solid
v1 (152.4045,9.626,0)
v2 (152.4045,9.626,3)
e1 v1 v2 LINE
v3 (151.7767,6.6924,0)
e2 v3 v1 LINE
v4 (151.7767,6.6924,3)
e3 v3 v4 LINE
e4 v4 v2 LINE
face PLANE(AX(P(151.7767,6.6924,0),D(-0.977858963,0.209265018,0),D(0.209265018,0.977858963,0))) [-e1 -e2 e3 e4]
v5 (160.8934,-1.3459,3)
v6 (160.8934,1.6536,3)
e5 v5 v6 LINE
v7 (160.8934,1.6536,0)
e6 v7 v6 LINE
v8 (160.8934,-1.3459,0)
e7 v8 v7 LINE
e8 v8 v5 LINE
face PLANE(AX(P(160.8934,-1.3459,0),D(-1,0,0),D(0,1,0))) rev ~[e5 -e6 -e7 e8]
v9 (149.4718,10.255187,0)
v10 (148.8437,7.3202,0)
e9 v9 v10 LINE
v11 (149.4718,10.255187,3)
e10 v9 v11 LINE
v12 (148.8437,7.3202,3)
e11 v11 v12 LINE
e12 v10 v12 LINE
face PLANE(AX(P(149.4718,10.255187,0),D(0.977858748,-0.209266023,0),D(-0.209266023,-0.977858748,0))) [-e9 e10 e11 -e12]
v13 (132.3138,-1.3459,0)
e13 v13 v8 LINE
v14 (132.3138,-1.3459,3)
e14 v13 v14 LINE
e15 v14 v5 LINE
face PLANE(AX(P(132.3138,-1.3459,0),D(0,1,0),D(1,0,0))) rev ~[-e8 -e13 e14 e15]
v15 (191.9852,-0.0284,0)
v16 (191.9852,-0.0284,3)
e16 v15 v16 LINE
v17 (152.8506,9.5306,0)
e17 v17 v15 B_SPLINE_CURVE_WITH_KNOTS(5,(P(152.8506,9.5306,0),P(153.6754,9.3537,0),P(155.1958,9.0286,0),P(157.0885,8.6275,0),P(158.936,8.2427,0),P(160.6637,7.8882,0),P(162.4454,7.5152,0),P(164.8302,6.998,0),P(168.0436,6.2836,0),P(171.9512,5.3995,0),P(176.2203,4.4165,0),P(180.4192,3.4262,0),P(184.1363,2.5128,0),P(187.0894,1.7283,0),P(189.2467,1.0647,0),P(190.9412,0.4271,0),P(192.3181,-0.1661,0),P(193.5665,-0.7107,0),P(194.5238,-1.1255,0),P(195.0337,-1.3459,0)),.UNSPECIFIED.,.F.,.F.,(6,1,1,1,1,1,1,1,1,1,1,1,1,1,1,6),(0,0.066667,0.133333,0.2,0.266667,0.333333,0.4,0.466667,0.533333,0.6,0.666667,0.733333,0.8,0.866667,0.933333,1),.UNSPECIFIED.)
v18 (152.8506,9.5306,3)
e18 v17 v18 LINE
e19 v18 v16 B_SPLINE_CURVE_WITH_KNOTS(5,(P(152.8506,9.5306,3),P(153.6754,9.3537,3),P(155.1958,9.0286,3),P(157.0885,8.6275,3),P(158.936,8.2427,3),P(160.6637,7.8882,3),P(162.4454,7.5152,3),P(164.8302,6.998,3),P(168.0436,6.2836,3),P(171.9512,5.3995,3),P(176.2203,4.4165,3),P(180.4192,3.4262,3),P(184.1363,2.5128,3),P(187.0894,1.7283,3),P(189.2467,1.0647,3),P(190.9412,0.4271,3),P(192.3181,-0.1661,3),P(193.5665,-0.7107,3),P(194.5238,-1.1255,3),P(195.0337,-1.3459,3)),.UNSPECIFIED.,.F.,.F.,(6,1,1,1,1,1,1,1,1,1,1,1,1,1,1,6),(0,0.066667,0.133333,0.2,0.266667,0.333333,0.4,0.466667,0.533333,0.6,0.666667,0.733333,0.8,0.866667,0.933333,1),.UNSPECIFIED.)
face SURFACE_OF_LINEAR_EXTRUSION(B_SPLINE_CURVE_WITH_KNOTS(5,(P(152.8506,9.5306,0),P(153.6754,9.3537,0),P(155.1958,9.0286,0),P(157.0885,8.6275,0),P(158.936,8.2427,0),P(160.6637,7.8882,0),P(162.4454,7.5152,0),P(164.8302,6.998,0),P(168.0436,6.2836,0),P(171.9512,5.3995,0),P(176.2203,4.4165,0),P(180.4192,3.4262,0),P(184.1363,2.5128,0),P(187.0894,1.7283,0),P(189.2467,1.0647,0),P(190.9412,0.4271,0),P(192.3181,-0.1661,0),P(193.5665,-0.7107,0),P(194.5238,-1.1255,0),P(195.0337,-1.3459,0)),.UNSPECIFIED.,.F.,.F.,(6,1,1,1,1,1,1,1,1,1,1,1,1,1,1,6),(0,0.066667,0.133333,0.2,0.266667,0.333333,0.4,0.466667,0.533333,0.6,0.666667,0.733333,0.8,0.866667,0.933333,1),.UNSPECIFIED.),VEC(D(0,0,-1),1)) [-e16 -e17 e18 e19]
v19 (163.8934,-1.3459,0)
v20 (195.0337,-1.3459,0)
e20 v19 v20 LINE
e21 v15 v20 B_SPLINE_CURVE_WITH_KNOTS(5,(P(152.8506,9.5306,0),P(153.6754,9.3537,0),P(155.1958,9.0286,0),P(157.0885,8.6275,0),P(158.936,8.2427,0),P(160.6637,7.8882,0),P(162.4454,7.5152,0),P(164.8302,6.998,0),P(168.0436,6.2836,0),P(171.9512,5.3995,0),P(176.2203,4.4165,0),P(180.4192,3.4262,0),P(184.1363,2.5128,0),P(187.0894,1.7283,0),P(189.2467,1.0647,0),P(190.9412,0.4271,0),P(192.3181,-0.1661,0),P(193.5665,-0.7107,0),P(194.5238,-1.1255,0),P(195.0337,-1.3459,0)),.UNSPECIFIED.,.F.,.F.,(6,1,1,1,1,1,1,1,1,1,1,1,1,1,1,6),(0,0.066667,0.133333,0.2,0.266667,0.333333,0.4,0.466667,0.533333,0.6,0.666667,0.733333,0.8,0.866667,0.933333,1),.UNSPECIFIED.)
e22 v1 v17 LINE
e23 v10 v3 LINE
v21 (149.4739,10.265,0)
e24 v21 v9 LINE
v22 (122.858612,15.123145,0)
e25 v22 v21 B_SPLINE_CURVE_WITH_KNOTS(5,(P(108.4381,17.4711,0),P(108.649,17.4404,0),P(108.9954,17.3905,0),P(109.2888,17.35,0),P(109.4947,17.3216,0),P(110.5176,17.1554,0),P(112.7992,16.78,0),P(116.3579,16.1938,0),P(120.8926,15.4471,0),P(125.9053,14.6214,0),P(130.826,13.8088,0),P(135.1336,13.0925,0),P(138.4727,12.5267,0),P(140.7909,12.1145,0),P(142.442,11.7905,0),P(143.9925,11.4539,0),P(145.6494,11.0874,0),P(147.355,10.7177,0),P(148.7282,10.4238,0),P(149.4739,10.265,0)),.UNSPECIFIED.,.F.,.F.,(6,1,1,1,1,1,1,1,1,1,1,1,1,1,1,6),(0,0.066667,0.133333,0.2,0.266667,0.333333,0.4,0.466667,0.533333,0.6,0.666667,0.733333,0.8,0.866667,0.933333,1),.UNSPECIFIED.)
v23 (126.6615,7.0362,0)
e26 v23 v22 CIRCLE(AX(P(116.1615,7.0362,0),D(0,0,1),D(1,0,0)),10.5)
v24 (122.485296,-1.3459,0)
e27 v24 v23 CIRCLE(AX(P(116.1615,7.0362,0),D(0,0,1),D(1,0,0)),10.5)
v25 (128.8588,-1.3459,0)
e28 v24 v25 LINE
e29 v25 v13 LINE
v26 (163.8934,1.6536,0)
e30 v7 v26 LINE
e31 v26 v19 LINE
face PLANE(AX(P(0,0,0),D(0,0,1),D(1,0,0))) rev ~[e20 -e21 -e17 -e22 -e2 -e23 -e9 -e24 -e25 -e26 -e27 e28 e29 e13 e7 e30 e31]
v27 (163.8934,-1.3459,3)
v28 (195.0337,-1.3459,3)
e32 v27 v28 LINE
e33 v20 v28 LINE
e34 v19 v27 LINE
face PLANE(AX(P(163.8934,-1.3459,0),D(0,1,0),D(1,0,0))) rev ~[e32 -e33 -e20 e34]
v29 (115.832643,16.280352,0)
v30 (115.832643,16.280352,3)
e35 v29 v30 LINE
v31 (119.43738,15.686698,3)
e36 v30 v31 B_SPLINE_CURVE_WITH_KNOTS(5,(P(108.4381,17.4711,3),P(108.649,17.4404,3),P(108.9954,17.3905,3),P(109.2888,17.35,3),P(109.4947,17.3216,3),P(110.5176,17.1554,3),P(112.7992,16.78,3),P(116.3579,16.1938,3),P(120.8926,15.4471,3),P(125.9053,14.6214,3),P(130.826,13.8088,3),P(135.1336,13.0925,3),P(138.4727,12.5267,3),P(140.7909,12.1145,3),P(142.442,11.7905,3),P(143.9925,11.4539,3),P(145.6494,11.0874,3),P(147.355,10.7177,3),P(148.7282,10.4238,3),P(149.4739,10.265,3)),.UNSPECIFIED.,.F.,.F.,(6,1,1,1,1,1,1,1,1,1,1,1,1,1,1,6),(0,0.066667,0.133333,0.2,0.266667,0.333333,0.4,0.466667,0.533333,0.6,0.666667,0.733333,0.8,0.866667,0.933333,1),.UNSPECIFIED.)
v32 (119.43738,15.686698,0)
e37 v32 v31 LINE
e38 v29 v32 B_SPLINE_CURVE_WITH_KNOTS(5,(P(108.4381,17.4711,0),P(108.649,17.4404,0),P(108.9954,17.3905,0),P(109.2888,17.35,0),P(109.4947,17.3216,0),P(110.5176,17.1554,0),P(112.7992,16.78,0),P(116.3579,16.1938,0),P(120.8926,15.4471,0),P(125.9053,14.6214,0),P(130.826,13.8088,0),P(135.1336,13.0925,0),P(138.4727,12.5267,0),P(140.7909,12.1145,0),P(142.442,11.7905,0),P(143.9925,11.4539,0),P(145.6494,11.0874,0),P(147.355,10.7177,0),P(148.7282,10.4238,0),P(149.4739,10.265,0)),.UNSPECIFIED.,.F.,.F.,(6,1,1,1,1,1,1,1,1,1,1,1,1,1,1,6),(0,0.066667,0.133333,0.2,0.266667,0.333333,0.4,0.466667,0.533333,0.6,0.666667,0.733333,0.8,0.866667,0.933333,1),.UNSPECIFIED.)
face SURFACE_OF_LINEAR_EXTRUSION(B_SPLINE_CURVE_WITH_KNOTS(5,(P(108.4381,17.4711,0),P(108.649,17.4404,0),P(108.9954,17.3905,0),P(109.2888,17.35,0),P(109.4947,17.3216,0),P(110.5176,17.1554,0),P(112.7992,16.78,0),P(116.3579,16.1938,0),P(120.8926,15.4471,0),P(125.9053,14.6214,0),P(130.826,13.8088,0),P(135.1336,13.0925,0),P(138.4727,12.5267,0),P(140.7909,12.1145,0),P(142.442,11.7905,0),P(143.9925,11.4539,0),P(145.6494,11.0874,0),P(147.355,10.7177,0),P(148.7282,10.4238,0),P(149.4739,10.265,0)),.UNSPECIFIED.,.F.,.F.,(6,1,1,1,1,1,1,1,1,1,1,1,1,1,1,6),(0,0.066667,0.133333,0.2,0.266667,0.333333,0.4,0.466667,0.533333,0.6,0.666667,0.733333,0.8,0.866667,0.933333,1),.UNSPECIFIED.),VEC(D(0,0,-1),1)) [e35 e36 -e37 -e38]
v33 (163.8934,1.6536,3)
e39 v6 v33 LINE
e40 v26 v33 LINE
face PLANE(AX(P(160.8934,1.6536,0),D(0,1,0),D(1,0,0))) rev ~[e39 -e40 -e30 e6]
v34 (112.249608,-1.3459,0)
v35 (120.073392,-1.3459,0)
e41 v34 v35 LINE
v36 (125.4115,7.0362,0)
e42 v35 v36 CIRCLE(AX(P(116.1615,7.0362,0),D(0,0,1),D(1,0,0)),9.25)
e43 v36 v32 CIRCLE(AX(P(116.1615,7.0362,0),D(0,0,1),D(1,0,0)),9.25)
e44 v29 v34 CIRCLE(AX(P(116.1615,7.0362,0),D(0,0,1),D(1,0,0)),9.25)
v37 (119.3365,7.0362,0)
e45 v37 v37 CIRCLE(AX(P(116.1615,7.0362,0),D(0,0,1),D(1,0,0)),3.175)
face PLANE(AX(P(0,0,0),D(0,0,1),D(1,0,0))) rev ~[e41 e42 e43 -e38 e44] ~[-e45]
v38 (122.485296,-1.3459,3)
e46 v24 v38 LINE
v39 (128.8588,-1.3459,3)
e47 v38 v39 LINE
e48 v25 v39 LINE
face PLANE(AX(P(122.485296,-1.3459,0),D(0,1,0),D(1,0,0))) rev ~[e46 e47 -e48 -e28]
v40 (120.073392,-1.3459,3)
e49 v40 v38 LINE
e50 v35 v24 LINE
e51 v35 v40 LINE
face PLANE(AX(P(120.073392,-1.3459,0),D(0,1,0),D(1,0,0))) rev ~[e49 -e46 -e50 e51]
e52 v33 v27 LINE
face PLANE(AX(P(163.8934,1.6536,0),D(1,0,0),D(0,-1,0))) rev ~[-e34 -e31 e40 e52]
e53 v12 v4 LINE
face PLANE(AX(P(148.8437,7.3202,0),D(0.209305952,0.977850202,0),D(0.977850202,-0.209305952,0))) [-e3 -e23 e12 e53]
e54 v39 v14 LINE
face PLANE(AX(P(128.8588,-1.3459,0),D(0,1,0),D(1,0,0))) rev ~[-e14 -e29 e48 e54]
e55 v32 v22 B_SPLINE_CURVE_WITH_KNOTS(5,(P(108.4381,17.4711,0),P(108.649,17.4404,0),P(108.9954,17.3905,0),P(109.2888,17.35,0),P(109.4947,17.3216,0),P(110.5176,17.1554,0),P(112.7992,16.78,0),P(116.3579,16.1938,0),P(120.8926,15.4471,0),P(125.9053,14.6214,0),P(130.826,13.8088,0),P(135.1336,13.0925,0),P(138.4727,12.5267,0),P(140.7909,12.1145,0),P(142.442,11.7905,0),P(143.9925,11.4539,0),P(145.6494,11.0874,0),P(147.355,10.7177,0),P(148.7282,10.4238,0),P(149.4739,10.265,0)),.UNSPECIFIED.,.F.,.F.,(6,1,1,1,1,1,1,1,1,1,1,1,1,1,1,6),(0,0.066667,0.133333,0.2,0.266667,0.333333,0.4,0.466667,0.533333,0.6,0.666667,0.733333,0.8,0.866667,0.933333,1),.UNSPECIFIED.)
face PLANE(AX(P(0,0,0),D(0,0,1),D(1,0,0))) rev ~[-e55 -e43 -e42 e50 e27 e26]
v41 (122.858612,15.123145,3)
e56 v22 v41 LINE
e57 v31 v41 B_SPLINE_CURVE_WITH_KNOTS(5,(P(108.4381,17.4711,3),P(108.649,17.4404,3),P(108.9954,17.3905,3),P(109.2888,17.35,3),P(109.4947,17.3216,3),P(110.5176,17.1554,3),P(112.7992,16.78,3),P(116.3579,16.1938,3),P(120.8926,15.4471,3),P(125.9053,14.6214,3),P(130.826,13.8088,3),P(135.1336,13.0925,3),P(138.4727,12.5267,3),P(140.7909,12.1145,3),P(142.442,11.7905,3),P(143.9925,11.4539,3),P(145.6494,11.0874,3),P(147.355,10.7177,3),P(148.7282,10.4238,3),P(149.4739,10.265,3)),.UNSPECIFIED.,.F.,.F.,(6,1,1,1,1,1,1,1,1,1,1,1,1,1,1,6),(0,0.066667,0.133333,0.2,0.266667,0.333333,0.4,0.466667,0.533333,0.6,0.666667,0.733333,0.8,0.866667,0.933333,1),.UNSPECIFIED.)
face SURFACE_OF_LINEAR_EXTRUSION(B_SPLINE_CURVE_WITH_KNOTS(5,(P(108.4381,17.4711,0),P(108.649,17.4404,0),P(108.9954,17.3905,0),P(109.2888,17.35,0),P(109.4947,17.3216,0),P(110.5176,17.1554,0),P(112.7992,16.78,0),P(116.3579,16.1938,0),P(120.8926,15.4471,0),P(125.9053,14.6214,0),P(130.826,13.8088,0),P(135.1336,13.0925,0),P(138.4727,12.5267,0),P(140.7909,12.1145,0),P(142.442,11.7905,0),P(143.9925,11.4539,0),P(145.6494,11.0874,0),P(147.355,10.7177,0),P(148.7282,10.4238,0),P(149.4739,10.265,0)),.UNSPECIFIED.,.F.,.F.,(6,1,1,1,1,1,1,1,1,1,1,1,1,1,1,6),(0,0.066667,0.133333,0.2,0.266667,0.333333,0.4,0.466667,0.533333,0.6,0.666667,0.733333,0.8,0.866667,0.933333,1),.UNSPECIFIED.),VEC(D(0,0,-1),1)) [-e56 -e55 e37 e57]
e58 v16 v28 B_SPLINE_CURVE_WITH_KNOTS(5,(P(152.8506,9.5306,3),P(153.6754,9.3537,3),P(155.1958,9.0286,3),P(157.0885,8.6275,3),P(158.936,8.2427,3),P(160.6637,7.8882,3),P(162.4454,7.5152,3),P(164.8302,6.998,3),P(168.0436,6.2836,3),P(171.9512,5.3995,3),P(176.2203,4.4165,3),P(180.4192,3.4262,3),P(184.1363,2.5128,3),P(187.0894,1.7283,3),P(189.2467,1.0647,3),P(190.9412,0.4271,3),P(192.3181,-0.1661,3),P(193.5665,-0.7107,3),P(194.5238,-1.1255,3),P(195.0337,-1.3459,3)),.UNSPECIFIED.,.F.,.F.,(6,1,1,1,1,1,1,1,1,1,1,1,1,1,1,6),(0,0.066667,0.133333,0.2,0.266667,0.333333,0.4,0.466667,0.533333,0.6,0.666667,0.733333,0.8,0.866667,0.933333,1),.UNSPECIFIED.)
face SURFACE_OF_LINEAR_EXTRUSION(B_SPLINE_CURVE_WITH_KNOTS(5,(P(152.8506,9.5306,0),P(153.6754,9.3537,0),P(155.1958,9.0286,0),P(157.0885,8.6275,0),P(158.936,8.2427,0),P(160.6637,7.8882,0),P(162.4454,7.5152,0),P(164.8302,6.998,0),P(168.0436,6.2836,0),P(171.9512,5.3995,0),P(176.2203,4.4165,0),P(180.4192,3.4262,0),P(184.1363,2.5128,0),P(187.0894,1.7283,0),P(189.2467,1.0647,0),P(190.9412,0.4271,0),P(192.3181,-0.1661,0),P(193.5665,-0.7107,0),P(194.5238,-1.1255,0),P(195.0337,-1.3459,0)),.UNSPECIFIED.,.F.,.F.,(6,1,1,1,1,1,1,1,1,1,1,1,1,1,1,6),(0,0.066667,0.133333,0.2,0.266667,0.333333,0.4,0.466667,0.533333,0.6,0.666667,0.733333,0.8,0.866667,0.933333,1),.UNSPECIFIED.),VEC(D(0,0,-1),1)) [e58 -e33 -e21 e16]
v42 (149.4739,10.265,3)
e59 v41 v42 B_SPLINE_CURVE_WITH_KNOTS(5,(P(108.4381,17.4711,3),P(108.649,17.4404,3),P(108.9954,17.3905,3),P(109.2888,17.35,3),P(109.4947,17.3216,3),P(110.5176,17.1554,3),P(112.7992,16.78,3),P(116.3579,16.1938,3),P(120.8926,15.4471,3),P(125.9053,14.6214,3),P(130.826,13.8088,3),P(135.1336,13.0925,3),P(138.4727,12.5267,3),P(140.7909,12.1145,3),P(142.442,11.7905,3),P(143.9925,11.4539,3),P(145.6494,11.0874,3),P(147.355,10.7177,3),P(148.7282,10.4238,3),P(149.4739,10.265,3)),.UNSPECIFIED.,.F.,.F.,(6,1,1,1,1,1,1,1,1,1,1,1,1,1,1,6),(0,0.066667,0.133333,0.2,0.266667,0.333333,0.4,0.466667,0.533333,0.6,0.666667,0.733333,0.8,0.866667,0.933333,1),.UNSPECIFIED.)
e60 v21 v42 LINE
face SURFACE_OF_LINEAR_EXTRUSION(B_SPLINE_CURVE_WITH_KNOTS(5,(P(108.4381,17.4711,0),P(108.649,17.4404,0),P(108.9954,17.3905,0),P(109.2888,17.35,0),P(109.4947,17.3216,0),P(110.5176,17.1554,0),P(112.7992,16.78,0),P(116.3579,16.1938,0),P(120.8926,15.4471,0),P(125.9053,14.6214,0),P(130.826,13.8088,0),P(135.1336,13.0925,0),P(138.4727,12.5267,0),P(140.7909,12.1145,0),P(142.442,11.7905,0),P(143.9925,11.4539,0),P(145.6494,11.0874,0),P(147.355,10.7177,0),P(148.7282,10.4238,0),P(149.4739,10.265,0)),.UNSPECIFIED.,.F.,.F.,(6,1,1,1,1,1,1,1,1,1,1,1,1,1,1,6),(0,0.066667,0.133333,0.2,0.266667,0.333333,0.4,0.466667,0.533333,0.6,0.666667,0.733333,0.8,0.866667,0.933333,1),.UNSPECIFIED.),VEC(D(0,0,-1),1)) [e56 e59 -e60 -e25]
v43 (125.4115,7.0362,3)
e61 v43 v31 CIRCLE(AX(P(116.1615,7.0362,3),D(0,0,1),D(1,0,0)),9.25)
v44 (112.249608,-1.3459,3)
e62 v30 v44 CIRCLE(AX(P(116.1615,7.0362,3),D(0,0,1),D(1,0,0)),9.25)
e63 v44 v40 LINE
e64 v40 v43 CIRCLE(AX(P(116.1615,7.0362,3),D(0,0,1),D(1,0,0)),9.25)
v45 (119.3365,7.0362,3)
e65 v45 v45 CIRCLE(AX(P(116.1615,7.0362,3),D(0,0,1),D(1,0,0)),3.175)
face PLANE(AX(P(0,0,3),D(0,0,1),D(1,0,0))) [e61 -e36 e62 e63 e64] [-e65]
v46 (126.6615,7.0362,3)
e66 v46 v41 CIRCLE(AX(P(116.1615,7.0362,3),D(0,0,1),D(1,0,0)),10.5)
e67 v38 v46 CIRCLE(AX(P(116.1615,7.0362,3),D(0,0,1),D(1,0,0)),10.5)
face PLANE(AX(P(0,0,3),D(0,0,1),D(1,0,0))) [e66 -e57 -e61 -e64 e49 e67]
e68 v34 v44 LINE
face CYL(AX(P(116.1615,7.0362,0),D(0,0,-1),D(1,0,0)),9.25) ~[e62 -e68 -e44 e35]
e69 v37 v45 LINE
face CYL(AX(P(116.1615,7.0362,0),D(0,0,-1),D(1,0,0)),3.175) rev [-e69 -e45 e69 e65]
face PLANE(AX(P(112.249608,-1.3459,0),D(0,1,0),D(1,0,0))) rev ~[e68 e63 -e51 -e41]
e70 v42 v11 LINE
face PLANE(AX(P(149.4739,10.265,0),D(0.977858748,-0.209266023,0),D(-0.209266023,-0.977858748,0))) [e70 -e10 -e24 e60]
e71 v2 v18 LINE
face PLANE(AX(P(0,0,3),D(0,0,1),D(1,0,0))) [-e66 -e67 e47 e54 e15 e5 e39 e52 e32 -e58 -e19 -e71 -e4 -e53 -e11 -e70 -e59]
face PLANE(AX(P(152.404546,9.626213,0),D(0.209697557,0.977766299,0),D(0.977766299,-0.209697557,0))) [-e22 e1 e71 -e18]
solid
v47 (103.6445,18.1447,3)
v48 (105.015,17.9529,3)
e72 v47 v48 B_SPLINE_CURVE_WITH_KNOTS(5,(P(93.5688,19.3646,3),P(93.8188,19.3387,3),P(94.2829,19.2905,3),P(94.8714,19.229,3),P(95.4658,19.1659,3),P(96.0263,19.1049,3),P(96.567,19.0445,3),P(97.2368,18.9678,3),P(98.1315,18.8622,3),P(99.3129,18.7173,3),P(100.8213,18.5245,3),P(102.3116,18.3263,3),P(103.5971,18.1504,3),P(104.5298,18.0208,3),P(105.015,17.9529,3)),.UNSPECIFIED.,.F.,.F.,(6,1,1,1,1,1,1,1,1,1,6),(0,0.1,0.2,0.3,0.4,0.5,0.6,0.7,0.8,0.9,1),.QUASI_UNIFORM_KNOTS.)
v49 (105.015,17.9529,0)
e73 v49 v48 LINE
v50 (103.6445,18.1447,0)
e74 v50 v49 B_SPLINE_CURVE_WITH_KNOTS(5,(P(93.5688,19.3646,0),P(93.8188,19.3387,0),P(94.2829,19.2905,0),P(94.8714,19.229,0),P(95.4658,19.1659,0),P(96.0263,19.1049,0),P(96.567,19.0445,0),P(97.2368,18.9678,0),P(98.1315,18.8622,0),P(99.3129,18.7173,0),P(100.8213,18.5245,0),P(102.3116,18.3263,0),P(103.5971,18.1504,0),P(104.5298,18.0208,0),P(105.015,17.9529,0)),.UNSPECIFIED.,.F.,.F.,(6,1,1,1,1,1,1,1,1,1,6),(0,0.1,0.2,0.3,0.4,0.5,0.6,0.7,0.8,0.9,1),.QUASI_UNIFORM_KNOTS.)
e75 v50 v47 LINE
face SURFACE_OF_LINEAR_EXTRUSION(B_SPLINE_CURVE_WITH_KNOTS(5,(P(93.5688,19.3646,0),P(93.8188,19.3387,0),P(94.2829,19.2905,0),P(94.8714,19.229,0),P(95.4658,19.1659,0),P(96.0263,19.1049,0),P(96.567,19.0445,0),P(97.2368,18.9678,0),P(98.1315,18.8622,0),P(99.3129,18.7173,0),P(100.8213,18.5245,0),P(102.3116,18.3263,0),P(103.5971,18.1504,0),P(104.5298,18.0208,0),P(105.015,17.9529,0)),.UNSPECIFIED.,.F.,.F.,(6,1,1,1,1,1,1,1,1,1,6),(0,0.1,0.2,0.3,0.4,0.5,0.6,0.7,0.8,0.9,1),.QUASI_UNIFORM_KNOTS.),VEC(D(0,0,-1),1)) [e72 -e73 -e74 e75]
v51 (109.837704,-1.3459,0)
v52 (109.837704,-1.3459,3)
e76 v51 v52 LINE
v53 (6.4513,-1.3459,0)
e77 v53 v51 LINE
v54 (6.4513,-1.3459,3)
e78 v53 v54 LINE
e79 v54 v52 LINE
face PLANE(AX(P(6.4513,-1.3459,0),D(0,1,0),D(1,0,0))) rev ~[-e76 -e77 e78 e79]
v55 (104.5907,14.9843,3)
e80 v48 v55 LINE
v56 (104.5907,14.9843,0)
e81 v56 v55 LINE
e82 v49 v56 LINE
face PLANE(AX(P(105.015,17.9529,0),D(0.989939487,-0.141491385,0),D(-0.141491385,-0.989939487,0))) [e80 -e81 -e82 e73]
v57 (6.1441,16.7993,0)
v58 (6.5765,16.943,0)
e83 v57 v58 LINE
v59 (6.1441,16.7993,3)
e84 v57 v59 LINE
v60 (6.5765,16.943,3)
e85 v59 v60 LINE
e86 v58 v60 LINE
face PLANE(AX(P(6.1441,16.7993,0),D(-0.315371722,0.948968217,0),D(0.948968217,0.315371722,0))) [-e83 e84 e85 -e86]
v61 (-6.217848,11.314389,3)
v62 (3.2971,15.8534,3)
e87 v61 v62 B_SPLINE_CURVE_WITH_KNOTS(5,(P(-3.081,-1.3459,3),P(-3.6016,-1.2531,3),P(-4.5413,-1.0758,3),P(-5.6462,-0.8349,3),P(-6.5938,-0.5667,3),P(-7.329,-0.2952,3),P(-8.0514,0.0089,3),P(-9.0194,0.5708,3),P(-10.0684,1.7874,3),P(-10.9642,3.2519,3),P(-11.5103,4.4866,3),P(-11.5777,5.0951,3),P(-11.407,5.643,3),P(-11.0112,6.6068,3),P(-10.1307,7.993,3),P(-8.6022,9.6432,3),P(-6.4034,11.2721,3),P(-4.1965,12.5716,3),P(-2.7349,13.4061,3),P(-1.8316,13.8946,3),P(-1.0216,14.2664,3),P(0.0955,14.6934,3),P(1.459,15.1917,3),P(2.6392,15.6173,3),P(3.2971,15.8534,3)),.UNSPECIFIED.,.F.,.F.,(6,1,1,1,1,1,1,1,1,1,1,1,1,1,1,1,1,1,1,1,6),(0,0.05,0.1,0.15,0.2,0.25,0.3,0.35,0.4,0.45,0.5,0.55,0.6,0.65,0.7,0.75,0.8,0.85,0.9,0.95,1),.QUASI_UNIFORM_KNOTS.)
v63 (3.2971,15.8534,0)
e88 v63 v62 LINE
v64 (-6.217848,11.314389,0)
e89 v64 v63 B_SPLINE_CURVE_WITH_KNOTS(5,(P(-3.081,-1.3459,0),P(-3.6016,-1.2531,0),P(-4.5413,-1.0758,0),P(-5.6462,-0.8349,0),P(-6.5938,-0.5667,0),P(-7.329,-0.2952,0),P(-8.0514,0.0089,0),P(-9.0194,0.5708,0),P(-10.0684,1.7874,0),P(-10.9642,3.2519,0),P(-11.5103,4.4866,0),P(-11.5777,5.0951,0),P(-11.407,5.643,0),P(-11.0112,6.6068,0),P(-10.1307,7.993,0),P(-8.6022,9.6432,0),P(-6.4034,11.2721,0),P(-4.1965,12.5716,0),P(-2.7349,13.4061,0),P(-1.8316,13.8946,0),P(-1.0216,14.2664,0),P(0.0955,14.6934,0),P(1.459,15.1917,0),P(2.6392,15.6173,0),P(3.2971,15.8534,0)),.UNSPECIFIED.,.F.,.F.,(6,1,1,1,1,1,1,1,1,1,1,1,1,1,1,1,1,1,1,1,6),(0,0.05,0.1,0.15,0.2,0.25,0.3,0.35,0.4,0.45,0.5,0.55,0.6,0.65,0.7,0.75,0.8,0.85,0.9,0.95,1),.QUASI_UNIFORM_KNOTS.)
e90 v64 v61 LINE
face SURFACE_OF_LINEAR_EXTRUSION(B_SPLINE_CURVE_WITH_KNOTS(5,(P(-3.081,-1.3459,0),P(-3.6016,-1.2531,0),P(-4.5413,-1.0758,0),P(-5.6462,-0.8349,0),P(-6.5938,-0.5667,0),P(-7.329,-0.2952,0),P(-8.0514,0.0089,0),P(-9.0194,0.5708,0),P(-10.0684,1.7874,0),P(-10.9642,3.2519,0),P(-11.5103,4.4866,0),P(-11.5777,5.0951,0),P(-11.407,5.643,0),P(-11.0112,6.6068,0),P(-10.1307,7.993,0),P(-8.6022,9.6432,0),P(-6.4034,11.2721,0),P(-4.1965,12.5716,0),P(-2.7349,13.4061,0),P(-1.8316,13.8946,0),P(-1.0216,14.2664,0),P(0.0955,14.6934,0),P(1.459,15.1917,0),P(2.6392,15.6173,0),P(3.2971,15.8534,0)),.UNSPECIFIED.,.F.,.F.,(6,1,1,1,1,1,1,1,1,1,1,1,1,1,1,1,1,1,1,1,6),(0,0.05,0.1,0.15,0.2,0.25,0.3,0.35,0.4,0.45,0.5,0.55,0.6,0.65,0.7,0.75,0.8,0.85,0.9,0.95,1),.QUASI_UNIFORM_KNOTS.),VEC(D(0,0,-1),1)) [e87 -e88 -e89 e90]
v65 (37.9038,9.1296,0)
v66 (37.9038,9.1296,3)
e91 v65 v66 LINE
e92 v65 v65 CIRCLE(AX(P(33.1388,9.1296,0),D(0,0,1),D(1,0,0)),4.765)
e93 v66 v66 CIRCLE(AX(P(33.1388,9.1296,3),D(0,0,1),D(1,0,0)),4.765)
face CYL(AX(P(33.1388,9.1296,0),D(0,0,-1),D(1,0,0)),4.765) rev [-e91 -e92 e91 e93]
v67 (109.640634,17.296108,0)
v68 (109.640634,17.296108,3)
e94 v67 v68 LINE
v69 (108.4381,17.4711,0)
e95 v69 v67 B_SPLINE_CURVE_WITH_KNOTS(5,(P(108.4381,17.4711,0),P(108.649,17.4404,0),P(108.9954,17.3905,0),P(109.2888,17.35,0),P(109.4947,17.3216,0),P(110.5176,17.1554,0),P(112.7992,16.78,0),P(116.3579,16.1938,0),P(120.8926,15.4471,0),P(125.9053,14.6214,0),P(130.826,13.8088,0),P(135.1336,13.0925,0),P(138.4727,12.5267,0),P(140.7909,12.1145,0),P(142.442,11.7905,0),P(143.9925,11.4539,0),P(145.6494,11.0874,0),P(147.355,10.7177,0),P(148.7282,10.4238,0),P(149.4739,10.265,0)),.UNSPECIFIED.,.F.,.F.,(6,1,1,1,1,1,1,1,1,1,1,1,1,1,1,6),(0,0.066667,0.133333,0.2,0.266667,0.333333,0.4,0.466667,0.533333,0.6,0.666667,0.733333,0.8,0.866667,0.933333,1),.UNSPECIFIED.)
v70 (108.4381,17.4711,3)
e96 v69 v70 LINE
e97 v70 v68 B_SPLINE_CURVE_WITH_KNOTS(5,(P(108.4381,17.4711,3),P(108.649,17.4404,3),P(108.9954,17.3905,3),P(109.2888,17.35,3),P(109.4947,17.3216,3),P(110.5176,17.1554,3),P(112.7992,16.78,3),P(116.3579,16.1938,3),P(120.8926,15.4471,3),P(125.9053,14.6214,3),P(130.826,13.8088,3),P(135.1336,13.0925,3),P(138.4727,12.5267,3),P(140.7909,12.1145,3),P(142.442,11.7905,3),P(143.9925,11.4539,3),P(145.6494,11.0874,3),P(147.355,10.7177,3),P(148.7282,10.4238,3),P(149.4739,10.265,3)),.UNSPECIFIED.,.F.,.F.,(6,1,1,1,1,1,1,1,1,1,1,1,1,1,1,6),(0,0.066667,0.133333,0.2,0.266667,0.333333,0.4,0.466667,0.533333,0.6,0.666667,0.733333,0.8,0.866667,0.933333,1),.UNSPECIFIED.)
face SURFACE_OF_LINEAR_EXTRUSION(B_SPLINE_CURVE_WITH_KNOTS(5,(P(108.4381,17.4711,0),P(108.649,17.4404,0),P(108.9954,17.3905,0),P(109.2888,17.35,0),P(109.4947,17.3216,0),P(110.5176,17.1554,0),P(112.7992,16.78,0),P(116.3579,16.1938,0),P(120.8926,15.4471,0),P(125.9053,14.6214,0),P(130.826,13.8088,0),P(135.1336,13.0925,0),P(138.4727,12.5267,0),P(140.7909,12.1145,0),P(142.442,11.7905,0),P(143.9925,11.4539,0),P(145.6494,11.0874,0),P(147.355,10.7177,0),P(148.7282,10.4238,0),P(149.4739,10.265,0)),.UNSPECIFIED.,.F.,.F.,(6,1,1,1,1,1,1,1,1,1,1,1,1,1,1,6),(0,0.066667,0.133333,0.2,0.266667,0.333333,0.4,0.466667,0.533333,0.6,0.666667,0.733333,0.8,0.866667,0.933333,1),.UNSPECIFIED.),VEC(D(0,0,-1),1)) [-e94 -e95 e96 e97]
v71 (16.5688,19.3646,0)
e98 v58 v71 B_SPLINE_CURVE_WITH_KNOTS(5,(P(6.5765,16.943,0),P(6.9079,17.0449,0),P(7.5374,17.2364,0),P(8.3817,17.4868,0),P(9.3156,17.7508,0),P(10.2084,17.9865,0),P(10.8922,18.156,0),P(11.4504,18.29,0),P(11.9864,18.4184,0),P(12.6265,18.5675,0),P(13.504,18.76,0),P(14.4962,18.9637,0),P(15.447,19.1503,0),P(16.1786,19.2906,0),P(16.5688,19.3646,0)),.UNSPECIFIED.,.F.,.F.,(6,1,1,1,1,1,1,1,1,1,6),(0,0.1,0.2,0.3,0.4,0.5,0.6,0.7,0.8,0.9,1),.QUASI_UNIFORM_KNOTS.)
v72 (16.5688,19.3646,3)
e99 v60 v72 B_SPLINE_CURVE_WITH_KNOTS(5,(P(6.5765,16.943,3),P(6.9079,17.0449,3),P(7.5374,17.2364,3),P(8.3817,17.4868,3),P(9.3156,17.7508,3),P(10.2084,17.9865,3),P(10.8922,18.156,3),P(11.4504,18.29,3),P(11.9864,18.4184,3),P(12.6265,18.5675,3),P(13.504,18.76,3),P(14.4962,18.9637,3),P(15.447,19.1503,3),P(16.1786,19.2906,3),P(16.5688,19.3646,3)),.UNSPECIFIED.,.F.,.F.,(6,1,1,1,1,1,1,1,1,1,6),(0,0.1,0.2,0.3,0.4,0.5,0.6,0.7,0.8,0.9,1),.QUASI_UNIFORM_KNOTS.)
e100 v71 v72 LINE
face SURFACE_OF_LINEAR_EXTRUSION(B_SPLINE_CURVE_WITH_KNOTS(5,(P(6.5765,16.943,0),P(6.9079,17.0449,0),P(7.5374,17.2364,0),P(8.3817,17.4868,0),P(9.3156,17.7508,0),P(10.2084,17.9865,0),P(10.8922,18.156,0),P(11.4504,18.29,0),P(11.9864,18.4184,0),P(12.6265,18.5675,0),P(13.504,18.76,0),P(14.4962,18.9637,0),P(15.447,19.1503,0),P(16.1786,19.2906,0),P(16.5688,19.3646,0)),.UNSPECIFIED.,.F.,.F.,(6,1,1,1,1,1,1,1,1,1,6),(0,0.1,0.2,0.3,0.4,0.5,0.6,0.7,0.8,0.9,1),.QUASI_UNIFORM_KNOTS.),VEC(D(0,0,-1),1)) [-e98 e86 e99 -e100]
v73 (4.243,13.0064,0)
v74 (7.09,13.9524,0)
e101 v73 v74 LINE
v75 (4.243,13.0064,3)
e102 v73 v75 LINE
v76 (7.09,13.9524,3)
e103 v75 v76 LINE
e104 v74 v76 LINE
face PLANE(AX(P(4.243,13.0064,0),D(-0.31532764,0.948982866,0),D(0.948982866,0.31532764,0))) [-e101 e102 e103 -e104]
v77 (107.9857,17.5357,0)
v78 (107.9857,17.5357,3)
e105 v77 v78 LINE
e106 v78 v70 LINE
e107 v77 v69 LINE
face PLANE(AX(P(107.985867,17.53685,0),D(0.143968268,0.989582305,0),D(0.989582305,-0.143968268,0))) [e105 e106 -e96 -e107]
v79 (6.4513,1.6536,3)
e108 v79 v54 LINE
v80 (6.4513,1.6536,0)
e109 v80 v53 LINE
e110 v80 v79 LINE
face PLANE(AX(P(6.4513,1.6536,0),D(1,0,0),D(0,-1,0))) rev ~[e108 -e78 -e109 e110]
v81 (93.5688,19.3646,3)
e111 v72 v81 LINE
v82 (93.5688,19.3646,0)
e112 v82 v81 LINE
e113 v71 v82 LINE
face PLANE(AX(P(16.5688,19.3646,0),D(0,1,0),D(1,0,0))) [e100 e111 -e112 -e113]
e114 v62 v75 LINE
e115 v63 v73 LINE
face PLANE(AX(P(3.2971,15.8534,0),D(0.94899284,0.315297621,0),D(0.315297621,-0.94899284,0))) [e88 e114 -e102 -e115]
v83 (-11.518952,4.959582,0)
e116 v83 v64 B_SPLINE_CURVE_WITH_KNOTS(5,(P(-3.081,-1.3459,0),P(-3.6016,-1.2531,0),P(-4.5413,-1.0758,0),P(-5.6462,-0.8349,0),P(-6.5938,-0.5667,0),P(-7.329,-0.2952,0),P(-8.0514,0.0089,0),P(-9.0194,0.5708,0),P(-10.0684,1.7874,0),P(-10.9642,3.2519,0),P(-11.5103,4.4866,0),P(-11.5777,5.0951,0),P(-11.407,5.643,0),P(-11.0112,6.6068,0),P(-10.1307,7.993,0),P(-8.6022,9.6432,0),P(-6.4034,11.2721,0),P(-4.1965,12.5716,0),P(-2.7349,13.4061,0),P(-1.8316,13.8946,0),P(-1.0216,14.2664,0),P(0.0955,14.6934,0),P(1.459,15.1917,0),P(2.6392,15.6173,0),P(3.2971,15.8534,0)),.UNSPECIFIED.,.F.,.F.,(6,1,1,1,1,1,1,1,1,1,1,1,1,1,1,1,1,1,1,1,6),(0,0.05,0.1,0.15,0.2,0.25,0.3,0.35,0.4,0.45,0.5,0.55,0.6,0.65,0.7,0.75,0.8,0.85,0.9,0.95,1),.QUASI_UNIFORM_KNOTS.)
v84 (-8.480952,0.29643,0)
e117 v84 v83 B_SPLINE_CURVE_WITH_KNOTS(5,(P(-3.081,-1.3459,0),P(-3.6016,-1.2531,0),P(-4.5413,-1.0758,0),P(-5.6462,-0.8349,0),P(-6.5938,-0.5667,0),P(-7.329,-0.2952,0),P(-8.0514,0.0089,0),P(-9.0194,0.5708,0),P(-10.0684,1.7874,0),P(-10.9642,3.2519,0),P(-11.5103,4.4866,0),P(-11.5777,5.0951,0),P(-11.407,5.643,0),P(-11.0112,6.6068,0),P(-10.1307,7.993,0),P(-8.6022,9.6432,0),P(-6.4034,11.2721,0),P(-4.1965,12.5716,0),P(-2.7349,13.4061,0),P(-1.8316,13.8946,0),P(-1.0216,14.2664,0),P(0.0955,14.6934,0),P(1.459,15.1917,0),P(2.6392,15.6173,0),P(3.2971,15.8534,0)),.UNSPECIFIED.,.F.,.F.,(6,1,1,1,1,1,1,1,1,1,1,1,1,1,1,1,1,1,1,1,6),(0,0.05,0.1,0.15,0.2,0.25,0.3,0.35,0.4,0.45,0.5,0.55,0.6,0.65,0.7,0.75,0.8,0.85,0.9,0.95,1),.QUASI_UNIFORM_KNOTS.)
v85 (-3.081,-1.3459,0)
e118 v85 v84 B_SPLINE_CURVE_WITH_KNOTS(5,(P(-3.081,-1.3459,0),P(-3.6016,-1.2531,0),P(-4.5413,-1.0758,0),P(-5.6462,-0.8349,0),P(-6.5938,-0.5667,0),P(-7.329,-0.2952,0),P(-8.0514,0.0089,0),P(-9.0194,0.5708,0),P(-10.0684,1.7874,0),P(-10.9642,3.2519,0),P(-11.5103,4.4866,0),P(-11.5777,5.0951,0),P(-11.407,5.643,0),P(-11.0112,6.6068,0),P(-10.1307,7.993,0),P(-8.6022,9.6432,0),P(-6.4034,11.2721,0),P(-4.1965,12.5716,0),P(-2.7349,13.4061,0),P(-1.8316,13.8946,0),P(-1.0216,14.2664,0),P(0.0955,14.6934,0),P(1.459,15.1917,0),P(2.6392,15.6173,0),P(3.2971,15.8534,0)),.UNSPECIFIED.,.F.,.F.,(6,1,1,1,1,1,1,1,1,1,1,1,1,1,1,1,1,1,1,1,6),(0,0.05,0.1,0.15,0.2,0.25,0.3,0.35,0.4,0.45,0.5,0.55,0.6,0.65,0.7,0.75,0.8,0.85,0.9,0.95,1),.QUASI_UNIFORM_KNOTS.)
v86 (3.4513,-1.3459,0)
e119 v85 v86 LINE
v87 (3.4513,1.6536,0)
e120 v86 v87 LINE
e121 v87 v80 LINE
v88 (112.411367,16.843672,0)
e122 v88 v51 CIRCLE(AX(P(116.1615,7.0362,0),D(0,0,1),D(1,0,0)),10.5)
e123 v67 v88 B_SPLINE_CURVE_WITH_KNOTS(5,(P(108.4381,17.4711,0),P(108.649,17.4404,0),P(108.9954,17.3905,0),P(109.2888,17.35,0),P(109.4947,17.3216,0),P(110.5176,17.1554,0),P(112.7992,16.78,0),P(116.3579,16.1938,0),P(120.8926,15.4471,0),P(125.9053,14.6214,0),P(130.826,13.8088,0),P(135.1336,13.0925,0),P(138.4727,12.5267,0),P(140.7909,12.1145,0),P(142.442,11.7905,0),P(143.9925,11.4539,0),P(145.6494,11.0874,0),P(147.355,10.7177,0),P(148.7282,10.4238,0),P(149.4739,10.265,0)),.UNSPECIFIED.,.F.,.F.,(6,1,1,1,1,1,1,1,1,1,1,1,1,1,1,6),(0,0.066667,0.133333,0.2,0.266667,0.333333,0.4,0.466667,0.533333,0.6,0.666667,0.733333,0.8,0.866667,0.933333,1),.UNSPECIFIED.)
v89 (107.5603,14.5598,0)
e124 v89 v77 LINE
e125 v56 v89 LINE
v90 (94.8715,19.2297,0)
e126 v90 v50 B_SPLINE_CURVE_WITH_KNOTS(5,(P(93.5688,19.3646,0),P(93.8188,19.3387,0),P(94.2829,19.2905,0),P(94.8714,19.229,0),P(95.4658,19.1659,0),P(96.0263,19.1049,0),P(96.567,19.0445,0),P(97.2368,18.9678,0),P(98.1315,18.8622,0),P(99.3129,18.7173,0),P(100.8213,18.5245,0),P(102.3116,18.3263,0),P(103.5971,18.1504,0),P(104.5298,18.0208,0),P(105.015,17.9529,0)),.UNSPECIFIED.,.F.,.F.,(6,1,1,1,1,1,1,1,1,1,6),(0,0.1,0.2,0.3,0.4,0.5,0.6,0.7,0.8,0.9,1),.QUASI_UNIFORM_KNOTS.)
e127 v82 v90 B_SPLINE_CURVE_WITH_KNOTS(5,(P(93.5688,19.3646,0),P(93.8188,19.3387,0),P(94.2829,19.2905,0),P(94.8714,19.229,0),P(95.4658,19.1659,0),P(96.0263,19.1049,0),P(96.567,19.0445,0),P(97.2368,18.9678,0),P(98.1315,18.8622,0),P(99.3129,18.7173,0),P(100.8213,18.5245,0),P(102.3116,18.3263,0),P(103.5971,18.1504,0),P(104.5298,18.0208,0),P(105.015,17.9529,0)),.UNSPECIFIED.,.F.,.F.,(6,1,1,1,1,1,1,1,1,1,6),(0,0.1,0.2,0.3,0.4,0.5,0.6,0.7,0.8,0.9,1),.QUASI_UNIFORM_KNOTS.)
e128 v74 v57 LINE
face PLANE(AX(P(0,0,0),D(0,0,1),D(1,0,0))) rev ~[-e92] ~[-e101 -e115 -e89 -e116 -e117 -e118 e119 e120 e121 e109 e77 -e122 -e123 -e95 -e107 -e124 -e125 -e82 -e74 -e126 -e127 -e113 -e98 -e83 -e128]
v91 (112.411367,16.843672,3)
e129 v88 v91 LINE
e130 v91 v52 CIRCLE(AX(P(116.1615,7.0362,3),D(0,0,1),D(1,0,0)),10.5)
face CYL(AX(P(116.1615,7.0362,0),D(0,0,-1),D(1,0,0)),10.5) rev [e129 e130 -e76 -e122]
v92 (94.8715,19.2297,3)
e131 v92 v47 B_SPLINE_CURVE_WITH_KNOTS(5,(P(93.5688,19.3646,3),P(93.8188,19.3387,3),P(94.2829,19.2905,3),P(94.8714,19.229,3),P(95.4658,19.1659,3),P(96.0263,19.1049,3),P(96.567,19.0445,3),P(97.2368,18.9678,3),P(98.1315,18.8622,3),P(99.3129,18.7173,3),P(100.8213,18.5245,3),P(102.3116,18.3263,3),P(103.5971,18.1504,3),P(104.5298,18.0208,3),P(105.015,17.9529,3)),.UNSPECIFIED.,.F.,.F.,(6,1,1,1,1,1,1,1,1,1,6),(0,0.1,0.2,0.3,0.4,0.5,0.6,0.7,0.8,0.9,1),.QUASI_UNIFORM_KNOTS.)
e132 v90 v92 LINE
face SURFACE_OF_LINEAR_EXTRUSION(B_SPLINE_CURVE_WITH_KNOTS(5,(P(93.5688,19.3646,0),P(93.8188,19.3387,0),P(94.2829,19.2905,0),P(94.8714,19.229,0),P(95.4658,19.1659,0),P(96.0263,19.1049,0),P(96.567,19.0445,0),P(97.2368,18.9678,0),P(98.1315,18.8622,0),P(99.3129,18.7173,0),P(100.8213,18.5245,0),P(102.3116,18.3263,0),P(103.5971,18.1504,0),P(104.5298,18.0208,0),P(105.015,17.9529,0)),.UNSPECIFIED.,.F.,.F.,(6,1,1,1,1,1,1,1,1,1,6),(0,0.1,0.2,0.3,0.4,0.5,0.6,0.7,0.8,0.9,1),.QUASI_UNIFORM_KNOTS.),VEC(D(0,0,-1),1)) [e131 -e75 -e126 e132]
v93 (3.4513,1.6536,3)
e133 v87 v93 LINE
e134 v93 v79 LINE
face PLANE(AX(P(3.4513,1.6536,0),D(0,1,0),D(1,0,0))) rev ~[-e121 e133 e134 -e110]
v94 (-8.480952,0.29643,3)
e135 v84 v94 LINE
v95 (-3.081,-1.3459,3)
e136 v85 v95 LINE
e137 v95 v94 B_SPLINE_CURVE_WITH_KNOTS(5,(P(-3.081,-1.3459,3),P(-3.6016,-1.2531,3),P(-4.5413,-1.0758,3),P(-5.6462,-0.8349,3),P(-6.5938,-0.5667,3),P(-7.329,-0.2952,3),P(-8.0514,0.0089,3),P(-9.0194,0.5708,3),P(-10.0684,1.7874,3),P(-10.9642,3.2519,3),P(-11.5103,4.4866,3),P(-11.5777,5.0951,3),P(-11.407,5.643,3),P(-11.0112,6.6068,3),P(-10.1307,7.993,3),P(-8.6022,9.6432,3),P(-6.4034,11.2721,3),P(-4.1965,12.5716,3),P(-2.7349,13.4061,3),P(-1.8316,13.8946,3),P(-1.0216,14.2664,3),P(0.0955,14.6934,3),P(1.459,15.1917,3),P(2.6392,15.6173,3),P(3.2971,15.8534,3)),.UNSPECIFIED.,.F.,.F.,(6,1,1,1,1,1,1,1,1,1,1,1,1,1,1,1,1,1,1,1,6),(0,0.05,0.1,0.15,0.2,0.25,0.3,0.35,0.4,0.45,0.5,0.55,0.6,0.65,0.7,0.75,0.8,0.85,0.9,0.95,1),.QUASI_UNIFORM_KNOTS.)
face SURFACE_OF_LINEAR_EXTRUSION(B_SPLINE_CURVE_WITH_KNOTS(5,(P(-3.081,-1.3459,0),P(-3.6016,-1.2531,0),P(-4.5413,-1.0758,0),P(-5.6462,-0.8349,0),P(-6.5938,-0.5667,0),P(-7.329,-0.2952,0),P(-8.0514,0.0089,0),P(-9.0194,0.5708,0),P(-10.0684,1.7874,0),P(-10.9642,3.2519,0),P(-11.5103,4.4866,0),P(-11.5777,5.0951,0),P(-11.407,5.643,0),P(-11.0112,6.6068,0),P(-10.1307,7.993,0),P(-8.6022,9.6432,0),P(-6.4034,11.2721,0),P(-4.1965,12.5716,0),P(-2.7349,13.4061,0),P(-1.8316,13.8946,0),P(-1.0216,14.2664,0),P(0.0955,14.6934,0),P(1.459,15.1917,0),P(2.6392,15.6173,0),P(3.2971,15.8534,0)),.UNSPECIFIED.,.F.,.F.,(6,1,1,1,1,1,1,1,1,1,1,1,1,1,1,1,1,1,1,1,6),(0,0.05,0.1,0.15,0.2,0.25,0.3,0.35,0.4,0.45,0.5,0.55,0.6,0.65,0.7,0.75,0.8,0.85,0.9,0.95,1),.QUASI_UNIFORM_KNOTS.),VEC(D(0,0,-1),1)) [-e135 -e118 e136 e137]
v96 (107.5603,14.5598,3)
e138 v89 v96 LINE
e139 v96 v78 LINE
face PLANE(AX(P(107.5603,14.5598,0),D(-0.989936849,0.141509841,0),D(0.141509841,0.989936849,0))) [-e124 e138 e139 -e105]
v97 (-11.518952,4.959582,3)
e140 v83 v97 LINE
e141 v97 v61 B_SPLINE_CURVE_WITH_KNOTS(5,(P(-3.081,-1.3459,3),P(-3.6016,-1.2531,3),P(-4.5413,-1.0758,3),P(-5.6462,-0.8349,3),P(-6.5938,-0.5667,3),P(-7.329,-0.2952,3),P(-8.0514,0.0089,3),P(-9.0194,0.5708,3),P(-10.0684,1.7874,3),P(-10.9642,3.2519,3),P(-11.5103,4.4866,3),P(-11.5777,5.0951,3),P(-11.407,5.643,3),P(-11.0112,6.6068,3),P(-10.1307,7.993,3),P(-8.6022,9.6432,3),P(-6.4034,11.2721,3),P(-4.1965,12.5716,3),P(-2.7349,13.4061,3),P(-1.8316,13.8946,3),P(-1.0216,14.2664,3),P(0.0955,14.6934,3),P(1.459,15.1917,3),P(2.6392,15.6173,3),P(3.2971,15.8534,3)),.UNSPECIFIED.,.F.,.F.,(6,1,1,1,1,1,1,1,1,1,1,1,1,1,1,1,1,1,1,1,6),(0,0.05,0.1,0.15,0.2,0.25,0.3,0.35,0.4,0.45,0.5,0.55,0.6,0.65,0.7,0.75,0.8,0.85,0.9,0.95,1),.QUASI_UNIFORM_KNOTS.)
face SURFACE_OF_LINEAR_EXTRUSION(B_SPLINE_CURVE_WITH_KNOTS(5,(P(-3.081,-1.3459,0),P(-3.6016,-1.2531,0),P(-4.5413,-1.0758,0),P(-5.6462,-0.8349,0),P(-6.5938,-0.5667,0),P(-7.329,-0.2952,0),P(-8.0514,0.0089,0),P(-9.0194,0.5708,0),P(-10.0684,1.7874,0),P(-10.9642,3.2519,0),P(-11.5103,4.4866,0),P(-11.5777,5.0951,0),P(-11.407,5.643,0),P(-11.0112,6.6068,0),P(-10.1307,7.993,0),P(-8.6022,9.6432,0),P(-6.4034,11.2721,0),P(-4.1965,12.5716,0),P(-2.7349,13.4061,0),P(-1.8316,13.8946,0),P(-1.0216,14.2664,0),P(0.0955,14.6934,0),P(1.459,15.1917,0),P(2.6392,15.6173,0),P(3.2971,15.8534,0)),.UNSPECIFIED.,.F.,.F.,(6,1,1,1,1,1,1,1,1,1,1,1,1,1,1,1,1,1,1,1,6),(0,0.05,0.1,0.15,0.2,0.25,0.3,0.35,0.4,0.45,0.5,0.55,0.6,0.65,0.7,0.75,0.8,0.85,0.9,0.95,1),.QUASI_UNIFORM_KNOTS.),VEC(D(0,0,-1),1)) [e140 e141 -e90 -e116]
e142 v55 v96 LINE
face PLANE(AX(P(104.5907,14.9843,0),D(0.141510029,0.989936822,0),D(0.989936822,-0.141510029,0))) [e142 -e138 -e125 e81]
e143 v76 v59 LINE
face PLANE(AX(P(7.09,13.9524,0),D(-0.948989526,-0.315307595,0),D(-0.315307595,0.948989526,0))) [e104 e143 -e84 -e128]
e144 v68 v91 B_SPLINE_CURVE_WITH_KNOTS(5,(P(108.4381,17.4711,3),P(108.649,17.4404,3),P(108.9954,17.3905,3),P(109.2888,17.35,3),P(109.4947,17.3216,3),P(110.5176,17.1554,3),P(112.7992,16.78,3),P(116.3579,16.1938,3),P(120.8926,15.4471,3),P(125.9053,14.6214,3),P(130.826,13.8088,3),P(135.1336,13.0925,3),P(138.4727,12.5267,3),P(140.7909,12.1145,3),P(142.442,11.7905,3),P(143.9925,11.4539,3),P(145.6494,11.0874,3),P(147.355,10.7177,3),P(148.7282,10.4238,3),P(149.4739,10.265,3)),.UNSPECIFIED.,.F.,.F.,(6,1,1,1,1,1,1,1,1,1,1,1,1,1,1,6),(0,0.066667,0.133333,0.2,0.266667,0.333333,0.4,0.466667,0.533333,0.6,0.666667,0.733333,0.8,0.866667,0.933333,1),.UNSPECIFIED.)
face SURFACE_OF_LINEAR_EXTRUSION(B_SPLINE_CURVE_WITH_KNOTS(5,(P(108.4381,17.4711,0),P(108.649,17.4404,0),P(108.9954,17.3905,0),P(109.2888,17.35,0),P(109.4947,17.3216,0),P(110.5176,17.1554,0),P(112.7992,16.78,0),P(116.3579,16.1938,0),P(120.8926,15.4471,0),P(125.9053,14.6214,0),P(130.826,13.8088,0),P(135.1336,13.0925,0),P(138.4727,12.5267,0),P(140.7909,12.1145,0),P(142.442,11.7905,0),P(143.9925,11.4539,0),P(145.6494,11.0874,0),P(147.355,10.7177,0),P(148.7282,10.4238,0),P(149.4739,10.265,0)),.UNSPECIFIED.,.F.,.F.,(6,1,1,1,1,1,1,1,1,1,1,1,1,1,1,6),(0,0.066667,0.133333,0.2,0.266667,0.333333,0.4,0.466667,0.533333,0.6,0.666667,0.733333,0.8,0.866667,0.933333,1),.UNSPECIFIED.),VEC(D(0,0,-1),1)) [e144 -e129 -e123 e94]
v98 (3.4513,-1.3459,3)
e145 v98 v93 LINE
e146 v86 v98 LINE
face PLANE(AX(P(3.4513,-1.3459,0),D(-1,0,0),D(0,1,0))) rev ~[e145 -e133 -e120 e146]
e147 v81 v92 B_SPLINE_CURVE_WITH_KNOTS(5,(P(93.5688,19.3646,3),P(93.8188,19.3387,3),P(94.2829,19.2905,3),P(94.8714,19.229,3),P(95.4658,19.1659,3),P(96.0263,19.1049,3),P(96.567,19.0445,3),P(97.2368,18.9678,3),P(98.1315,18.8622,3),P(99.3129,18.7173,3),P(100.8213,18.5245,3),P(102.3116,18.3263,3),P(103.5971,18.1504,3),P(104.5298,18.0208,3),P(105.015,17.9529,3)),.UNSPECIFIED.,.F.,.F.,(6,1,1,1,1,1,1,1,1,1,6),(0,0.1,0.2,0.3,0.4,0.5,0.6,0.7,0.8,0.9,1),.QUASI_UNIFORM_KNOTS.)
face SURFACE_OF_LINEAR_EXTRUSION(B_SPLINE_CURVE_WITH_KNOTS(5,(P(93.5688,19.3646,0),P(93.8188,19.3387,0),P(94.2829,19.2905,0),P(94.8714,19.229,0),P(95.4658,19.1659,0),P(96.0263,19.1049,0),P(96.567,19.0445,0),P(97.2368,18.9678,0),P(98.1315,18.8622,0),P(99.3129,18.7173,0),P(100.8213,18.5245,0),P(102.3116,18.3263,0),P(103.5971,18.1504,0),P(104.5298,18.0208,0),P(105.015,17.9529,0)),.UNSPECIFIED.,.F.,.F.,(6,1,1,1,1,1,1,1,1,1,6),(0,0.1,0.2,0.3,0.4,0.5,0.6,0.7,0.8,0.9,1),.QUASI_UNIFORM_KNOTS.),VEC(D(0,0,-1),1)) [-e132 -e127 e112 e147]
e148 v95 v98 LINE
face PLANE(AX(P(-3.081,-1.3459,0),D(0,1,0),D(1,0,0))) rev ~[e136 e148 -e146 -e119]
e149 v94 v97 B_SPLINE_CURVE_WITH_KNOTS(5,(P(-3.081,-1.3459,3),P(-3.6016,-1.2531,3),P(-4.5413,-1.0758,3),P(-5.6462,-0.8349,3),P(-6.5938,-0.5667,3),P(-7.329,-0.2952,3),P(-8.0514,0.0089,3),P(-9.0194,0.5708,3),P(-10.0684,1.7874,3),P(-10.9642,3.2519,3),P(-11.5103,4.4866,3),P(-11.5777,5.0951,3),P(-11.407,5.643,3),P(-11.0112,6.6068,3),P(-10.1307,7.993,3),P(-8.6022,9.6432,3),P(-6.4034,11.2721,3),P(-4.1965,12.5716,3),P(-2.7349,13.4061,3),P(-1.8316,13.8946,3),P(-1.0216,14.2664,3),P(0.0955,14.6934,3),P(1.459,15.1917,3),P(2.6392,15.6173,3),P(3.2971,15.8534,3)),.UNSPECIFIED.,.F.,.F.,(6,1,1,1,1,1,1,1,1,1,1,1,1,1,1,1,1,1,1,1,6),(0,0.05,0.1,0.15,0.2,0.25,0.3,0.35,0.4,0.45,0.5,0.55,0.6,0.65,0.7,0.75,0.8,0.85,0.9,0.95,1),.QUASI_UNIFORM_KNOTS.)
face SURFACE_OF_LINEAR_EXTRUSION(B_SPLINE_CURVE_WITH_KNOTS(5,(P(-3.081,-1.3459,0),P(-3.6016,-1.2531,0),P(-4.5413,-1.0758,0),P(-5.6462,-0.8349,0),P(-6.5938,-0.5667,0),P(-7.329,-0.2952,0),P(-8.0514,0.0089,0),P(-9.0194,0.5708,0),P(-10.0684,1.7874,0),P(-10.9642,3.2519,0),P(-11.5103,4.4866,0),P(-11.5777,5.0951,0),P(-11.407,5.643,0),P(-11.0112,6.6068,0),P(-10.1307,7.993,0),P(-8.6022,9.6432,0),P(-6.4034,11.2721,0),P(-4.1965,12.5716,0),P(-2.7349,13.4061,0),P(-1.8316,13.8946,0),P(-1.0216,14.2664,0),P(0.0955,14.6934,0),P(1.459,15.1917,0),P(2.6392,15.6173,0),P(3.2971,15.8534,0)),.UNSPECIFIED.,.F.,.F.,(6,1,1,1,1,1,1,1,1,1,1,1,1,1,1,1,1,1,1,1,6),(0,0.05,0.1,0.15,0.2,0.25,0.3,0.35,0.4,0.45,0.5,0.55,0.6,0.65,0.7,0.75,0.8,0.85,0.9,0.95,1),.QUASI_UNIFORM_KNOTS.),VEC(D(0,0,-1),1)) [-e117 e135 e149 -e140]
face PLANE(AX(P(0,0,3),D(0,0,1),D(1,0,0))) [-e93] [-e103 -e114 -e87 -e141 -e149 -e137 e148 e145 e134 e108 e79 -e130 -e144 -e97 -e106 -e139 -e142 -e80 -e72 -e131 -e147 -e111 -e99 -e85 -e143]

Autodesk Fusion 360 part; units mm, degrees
sketch "Sketch1" plane through (0, 0, 0) normal (0, 0, 1) x (1, 0, 0) in component "Airfoil structure"
  spline S0 degree 5 poles (108.4381, 17.4711) (108.649, 17.4404) (108.9954, 17.3905) (109.2888, 17.35) (109.4947, 17.3216) (110.5176, 17.1554) (112.7992, 16.78) (116.3579, 16.1938) (120.8926, 15.4471) (125.9053, 14.6214) (130.826, 13.8088) (135.1336, 13.0925) (138.4727, 12.5267) (140.7909, 12.1145) (142.442, 11.7905) (143.9925, 11.4539) (145.6494, 11.0874) (147.355, 10.7177) (148.7282, 10.4238) (149.4739, 10.265) knots 0 0 0 0 0 0 0.066667 0.133333 0.2 0.266667 0.333333 0.4 0.466667 0.533333 0.6 0.666667 0.733333 0.8 0.866667 0.933333 1 1 1 1 1 1
  line L0 (104.3157, 18.0708) -> (112.5606, 16.8713)
  line L1 (145.4959, 11.1121) -> (153.4519, 9.4178)
  spline S1 degree 5 poles (152.8506, 9.5306) (153.6754, 9.3537) (155.1958, 9.0286) (157.0885, 8.6275) (158.936, 8.2427) (160.6637, 7.8882) (162.4454, 7.5152) (164.8302, 6.998) (168.0436, 6.2836) (171.9512, 5.3995) (176.2203, 4.4165) (180.4192, 3.4262) (184.1363, 2.5128) (187.0894, 1.7283) (189.2467, 1.0647) (190.9412, 0.4271) (192.3181, -0.1661) (193.5665, -0.7107) (194.5238, -1.1255) (195.0337, -1.3459) knots 0 0 0 0 0 0 0.066667 0.133333 0.2 0.266667 0.333333 0.4 0.466667 0.533333 0.6 0.666667 0.733333 0.8 0.866667 0.933333 1 1 1 1 1 1
  line L2 (148.4907, 10.4656) -> (157.2105, 8.5955)
  line L3 (191.9852, -0.0284) -> (198.0822, -2.6634)
  circle A0 centre (33.1388, 9.1296) radius 4.765
  circle A1 centre (116.1615, 7.0362) radius 3.175
  spline S2 degree 5 poles (-3.081, -1.3459) (-3.6016, -1.2531) (-4.5413, -1.0758) (-5.6462, -0.8349) (-6.5938, -0.5667) (-7.329, -0.2952) (-8.0514, 0.0089) (-9.0194, 0.5708) (-10.0684, 1.7874) (-10.9642, 3.2519) (-11.5103, 4.4866) (-11.5777, 5.0951) (-11.407, 5.643) (-11.0112, 6.6068) (-10.1307, 7.993) (-8.6022, 9.6432) (-6.4034, 11.2721) (-4.1965, 12.5716) (-2.7349, 13.4061) (-1.8316, 13.8946) (-1.0216, 14.2664) (0.0955, 14.6934) (1.459, 15.1917) (2.6392, 15.6173) (3.2971, 15.8534) knots 0 0 0 0 0 0 0.05 0.1 0.15 0.2 0.25 0.3 0.35 0.4 0.45 0.5 0.55 0.6 0.65 0.7 0.75 0.8 0.85 0.9 0.95 1 1 1 1 1 1
  line L4 (0.5703, -1.9966) -> (-6.7323, -0.6952)
  line L5 (-0.0118, 14.6656) -> (6.606, 17.0412)
  line L6 (-8.4792, 9.8153) -> (-3.9569, 12.8132)
  line L7 (-11.5034, 4.2257) -> (-11.5345, 5.6935)
  line L8 (-7.2174, -0.5359) -> (-9.7443, 1.1286)
  line L9 (16.5688, 19.3646) -> (93.5688, 19.3646)
  spline S3 degree 5 poles (93.5688, 19.3646) (93.8188, 19.3387) (94.2829, 19.2905) (94.8714, 19.229) (95.4658, 19.1659) (96.0263, 19.1049) (96.567, 19.0445) (97.2368, 18.9678) (98.1315, 18.8622) (99.3129, 18.7173) (100.8213, 18.5245) (102.3116, 18.3263) (103.5971, 18.1504) (104.5298, 18.0208) (105.015, 17.9529) knots 0 0 0 0 0 0 0.1 0.2 0.3 0.4 0.5 0.6 0.7 0.8 0.9 1 1 1 1 1 1
  line L10 (92.266, 19.4996) -> (94.8715, 19.2297)
  line L11 (103.6445, 18.1447) -> (106.3855, 17.761)
  spline S4 degree 5 poles (6.5765, 16.943) (6.9079, 17.0449) (7.5374, 17.2364) (8.3817, 17.4868) (9.3156, 17.7508) (10.2084, 17.9865) (10.8922, 18.156) (11.4504, 18.29) (11.9864, 18.4184) (12.6265, 18.5675) (13.504, 18.76) (14.4962, 18.9637) (15.447, 19.1503) (16.1786, 19.2906) (16.5688, 19.3646) knots 0 0 0 0 0 0 0.1 0.2 0.3 0.4 0.5 0.6 0.7 0.8 0.9 1 1 1 1 1 1
  line L12 (5.4107, 16.5846) -> (7.7424, 17.3015)
  line L13 (15.2328, 19.111) -> (17.9048, 19.6183)
  line L14 (152.4045, 9.626) -> (152.8506, 9.5306)
  line L15 (107.9857, 17.5357) -> (108.4381, 17.4711)
  line L16 (6.1441, 16.7993) -> (6.5765, 16.943)
  line L17 (128.8588, -1.3459) -> (132.3138, -1.3459)
  line L18 (149.4739, 10.265) -> (148.8437, 7.3202)
  line L19 (148.8437, 7.3202) -> (151.7767, 6.6924)
  line L20 (151.7767, 6.6924) -> (152.4045, 9.626)
  line L21 (105.015, 17.9529) -> (104.5907, 14.9843)
  line L22 (104.5907, 14.9843) -> (107.5603, 14.5598)
  line L23 (107.5603, 14.5598) -> (107.9857, 17.5357)
  line L24 (3.2971, 15.8534) -> (4.243, 13.0064)
  line L25 (4.243, 13.0064) -> (7.09, 13.9524)
  line L26 (7.09, 13.9524) -> (6.1441, 16.7993)
  line L27 (160.8934, -1.3459) -> (160.8934, 1.6536)
  line L28 (160.8934, 1.6536) -> (163.8934, 1.6536)
  line L29 (163.8934, 1.6536) -> (163.8934, -1.3459)
  line L30 (132.3138, -1.3459) -> (160.8934, -1.3459)
  line L31 (163.8934, -1.3459) -> (195.0337, -1.3459)
  line L32 (3.4513, -1.3459) -> (3.4513, 1.6536)
  line L33 (3.4513, 1.6536) -> (6.4513, 1.6536)
  line L34 (6.4513, 1.6536) -> (6.4513, -1.3459)
  line L35 (-3.081, -1.3459) -> (3.4513, -1.3459)
  line L36 (6.4513, -1.3459) -> (128.8588, -1.3459)
  circle A2 centre (116.1615, 7.0362) radius 9.25
  circle A3 centre (116.1615, 7.0362) radius 10.5
  point P0 (-8.4808, 0.2964)
  point P1 (-11.5189, 4.9596)
  point P2 (-6.2181, 11.3142)
  point P3 (11.4183, 18.2822)
  point P4 (96.5722, 19.0435)
  point P5 (109.7252, 17.2828)
  point P6 (137.8534, 12.6279)
  point P7 (163.7248, 7.2358)
  point P8 (186.791, 1.7868)
  dimension "d38" = 77
  dimension "d53" = 9.53
  dimension "d54" = 6.35
  dimension "d60" = 83.0226
  dimension "d64" = 18.5
  dimension "d65" = 21
extrude "Extrude1" add sketch "Sketch1" along normal blind 3 contours S0 L0 S2 L9 S3 L10 L11 S4 L15 L16 L21 L22 L23 L24 L25 L26 L32 L33 L34 L35 L36 A3 | S0 L36 A2 | S0 L36 A2 A3 | S0 S1 L2 L3 L14 L17 L18 L19 L20 L27 L28 L29 L30 L31 L36 A3 picked at (123.1311, 14.2971) makes body 1 at (79.1074, 9.933, 0) makes body 2 at (147.3503, 1.5428, 0) in component "Airfoil structure"
sketch "Sketch3" plane through (0, 0, 0) normal (0, 0, 1) x (1, 0, 0)
component "Airfoil structure" placed x (1, 0, 0) y (0, 1, 0) z (0, 0, 1) at (0, 0, 0)
